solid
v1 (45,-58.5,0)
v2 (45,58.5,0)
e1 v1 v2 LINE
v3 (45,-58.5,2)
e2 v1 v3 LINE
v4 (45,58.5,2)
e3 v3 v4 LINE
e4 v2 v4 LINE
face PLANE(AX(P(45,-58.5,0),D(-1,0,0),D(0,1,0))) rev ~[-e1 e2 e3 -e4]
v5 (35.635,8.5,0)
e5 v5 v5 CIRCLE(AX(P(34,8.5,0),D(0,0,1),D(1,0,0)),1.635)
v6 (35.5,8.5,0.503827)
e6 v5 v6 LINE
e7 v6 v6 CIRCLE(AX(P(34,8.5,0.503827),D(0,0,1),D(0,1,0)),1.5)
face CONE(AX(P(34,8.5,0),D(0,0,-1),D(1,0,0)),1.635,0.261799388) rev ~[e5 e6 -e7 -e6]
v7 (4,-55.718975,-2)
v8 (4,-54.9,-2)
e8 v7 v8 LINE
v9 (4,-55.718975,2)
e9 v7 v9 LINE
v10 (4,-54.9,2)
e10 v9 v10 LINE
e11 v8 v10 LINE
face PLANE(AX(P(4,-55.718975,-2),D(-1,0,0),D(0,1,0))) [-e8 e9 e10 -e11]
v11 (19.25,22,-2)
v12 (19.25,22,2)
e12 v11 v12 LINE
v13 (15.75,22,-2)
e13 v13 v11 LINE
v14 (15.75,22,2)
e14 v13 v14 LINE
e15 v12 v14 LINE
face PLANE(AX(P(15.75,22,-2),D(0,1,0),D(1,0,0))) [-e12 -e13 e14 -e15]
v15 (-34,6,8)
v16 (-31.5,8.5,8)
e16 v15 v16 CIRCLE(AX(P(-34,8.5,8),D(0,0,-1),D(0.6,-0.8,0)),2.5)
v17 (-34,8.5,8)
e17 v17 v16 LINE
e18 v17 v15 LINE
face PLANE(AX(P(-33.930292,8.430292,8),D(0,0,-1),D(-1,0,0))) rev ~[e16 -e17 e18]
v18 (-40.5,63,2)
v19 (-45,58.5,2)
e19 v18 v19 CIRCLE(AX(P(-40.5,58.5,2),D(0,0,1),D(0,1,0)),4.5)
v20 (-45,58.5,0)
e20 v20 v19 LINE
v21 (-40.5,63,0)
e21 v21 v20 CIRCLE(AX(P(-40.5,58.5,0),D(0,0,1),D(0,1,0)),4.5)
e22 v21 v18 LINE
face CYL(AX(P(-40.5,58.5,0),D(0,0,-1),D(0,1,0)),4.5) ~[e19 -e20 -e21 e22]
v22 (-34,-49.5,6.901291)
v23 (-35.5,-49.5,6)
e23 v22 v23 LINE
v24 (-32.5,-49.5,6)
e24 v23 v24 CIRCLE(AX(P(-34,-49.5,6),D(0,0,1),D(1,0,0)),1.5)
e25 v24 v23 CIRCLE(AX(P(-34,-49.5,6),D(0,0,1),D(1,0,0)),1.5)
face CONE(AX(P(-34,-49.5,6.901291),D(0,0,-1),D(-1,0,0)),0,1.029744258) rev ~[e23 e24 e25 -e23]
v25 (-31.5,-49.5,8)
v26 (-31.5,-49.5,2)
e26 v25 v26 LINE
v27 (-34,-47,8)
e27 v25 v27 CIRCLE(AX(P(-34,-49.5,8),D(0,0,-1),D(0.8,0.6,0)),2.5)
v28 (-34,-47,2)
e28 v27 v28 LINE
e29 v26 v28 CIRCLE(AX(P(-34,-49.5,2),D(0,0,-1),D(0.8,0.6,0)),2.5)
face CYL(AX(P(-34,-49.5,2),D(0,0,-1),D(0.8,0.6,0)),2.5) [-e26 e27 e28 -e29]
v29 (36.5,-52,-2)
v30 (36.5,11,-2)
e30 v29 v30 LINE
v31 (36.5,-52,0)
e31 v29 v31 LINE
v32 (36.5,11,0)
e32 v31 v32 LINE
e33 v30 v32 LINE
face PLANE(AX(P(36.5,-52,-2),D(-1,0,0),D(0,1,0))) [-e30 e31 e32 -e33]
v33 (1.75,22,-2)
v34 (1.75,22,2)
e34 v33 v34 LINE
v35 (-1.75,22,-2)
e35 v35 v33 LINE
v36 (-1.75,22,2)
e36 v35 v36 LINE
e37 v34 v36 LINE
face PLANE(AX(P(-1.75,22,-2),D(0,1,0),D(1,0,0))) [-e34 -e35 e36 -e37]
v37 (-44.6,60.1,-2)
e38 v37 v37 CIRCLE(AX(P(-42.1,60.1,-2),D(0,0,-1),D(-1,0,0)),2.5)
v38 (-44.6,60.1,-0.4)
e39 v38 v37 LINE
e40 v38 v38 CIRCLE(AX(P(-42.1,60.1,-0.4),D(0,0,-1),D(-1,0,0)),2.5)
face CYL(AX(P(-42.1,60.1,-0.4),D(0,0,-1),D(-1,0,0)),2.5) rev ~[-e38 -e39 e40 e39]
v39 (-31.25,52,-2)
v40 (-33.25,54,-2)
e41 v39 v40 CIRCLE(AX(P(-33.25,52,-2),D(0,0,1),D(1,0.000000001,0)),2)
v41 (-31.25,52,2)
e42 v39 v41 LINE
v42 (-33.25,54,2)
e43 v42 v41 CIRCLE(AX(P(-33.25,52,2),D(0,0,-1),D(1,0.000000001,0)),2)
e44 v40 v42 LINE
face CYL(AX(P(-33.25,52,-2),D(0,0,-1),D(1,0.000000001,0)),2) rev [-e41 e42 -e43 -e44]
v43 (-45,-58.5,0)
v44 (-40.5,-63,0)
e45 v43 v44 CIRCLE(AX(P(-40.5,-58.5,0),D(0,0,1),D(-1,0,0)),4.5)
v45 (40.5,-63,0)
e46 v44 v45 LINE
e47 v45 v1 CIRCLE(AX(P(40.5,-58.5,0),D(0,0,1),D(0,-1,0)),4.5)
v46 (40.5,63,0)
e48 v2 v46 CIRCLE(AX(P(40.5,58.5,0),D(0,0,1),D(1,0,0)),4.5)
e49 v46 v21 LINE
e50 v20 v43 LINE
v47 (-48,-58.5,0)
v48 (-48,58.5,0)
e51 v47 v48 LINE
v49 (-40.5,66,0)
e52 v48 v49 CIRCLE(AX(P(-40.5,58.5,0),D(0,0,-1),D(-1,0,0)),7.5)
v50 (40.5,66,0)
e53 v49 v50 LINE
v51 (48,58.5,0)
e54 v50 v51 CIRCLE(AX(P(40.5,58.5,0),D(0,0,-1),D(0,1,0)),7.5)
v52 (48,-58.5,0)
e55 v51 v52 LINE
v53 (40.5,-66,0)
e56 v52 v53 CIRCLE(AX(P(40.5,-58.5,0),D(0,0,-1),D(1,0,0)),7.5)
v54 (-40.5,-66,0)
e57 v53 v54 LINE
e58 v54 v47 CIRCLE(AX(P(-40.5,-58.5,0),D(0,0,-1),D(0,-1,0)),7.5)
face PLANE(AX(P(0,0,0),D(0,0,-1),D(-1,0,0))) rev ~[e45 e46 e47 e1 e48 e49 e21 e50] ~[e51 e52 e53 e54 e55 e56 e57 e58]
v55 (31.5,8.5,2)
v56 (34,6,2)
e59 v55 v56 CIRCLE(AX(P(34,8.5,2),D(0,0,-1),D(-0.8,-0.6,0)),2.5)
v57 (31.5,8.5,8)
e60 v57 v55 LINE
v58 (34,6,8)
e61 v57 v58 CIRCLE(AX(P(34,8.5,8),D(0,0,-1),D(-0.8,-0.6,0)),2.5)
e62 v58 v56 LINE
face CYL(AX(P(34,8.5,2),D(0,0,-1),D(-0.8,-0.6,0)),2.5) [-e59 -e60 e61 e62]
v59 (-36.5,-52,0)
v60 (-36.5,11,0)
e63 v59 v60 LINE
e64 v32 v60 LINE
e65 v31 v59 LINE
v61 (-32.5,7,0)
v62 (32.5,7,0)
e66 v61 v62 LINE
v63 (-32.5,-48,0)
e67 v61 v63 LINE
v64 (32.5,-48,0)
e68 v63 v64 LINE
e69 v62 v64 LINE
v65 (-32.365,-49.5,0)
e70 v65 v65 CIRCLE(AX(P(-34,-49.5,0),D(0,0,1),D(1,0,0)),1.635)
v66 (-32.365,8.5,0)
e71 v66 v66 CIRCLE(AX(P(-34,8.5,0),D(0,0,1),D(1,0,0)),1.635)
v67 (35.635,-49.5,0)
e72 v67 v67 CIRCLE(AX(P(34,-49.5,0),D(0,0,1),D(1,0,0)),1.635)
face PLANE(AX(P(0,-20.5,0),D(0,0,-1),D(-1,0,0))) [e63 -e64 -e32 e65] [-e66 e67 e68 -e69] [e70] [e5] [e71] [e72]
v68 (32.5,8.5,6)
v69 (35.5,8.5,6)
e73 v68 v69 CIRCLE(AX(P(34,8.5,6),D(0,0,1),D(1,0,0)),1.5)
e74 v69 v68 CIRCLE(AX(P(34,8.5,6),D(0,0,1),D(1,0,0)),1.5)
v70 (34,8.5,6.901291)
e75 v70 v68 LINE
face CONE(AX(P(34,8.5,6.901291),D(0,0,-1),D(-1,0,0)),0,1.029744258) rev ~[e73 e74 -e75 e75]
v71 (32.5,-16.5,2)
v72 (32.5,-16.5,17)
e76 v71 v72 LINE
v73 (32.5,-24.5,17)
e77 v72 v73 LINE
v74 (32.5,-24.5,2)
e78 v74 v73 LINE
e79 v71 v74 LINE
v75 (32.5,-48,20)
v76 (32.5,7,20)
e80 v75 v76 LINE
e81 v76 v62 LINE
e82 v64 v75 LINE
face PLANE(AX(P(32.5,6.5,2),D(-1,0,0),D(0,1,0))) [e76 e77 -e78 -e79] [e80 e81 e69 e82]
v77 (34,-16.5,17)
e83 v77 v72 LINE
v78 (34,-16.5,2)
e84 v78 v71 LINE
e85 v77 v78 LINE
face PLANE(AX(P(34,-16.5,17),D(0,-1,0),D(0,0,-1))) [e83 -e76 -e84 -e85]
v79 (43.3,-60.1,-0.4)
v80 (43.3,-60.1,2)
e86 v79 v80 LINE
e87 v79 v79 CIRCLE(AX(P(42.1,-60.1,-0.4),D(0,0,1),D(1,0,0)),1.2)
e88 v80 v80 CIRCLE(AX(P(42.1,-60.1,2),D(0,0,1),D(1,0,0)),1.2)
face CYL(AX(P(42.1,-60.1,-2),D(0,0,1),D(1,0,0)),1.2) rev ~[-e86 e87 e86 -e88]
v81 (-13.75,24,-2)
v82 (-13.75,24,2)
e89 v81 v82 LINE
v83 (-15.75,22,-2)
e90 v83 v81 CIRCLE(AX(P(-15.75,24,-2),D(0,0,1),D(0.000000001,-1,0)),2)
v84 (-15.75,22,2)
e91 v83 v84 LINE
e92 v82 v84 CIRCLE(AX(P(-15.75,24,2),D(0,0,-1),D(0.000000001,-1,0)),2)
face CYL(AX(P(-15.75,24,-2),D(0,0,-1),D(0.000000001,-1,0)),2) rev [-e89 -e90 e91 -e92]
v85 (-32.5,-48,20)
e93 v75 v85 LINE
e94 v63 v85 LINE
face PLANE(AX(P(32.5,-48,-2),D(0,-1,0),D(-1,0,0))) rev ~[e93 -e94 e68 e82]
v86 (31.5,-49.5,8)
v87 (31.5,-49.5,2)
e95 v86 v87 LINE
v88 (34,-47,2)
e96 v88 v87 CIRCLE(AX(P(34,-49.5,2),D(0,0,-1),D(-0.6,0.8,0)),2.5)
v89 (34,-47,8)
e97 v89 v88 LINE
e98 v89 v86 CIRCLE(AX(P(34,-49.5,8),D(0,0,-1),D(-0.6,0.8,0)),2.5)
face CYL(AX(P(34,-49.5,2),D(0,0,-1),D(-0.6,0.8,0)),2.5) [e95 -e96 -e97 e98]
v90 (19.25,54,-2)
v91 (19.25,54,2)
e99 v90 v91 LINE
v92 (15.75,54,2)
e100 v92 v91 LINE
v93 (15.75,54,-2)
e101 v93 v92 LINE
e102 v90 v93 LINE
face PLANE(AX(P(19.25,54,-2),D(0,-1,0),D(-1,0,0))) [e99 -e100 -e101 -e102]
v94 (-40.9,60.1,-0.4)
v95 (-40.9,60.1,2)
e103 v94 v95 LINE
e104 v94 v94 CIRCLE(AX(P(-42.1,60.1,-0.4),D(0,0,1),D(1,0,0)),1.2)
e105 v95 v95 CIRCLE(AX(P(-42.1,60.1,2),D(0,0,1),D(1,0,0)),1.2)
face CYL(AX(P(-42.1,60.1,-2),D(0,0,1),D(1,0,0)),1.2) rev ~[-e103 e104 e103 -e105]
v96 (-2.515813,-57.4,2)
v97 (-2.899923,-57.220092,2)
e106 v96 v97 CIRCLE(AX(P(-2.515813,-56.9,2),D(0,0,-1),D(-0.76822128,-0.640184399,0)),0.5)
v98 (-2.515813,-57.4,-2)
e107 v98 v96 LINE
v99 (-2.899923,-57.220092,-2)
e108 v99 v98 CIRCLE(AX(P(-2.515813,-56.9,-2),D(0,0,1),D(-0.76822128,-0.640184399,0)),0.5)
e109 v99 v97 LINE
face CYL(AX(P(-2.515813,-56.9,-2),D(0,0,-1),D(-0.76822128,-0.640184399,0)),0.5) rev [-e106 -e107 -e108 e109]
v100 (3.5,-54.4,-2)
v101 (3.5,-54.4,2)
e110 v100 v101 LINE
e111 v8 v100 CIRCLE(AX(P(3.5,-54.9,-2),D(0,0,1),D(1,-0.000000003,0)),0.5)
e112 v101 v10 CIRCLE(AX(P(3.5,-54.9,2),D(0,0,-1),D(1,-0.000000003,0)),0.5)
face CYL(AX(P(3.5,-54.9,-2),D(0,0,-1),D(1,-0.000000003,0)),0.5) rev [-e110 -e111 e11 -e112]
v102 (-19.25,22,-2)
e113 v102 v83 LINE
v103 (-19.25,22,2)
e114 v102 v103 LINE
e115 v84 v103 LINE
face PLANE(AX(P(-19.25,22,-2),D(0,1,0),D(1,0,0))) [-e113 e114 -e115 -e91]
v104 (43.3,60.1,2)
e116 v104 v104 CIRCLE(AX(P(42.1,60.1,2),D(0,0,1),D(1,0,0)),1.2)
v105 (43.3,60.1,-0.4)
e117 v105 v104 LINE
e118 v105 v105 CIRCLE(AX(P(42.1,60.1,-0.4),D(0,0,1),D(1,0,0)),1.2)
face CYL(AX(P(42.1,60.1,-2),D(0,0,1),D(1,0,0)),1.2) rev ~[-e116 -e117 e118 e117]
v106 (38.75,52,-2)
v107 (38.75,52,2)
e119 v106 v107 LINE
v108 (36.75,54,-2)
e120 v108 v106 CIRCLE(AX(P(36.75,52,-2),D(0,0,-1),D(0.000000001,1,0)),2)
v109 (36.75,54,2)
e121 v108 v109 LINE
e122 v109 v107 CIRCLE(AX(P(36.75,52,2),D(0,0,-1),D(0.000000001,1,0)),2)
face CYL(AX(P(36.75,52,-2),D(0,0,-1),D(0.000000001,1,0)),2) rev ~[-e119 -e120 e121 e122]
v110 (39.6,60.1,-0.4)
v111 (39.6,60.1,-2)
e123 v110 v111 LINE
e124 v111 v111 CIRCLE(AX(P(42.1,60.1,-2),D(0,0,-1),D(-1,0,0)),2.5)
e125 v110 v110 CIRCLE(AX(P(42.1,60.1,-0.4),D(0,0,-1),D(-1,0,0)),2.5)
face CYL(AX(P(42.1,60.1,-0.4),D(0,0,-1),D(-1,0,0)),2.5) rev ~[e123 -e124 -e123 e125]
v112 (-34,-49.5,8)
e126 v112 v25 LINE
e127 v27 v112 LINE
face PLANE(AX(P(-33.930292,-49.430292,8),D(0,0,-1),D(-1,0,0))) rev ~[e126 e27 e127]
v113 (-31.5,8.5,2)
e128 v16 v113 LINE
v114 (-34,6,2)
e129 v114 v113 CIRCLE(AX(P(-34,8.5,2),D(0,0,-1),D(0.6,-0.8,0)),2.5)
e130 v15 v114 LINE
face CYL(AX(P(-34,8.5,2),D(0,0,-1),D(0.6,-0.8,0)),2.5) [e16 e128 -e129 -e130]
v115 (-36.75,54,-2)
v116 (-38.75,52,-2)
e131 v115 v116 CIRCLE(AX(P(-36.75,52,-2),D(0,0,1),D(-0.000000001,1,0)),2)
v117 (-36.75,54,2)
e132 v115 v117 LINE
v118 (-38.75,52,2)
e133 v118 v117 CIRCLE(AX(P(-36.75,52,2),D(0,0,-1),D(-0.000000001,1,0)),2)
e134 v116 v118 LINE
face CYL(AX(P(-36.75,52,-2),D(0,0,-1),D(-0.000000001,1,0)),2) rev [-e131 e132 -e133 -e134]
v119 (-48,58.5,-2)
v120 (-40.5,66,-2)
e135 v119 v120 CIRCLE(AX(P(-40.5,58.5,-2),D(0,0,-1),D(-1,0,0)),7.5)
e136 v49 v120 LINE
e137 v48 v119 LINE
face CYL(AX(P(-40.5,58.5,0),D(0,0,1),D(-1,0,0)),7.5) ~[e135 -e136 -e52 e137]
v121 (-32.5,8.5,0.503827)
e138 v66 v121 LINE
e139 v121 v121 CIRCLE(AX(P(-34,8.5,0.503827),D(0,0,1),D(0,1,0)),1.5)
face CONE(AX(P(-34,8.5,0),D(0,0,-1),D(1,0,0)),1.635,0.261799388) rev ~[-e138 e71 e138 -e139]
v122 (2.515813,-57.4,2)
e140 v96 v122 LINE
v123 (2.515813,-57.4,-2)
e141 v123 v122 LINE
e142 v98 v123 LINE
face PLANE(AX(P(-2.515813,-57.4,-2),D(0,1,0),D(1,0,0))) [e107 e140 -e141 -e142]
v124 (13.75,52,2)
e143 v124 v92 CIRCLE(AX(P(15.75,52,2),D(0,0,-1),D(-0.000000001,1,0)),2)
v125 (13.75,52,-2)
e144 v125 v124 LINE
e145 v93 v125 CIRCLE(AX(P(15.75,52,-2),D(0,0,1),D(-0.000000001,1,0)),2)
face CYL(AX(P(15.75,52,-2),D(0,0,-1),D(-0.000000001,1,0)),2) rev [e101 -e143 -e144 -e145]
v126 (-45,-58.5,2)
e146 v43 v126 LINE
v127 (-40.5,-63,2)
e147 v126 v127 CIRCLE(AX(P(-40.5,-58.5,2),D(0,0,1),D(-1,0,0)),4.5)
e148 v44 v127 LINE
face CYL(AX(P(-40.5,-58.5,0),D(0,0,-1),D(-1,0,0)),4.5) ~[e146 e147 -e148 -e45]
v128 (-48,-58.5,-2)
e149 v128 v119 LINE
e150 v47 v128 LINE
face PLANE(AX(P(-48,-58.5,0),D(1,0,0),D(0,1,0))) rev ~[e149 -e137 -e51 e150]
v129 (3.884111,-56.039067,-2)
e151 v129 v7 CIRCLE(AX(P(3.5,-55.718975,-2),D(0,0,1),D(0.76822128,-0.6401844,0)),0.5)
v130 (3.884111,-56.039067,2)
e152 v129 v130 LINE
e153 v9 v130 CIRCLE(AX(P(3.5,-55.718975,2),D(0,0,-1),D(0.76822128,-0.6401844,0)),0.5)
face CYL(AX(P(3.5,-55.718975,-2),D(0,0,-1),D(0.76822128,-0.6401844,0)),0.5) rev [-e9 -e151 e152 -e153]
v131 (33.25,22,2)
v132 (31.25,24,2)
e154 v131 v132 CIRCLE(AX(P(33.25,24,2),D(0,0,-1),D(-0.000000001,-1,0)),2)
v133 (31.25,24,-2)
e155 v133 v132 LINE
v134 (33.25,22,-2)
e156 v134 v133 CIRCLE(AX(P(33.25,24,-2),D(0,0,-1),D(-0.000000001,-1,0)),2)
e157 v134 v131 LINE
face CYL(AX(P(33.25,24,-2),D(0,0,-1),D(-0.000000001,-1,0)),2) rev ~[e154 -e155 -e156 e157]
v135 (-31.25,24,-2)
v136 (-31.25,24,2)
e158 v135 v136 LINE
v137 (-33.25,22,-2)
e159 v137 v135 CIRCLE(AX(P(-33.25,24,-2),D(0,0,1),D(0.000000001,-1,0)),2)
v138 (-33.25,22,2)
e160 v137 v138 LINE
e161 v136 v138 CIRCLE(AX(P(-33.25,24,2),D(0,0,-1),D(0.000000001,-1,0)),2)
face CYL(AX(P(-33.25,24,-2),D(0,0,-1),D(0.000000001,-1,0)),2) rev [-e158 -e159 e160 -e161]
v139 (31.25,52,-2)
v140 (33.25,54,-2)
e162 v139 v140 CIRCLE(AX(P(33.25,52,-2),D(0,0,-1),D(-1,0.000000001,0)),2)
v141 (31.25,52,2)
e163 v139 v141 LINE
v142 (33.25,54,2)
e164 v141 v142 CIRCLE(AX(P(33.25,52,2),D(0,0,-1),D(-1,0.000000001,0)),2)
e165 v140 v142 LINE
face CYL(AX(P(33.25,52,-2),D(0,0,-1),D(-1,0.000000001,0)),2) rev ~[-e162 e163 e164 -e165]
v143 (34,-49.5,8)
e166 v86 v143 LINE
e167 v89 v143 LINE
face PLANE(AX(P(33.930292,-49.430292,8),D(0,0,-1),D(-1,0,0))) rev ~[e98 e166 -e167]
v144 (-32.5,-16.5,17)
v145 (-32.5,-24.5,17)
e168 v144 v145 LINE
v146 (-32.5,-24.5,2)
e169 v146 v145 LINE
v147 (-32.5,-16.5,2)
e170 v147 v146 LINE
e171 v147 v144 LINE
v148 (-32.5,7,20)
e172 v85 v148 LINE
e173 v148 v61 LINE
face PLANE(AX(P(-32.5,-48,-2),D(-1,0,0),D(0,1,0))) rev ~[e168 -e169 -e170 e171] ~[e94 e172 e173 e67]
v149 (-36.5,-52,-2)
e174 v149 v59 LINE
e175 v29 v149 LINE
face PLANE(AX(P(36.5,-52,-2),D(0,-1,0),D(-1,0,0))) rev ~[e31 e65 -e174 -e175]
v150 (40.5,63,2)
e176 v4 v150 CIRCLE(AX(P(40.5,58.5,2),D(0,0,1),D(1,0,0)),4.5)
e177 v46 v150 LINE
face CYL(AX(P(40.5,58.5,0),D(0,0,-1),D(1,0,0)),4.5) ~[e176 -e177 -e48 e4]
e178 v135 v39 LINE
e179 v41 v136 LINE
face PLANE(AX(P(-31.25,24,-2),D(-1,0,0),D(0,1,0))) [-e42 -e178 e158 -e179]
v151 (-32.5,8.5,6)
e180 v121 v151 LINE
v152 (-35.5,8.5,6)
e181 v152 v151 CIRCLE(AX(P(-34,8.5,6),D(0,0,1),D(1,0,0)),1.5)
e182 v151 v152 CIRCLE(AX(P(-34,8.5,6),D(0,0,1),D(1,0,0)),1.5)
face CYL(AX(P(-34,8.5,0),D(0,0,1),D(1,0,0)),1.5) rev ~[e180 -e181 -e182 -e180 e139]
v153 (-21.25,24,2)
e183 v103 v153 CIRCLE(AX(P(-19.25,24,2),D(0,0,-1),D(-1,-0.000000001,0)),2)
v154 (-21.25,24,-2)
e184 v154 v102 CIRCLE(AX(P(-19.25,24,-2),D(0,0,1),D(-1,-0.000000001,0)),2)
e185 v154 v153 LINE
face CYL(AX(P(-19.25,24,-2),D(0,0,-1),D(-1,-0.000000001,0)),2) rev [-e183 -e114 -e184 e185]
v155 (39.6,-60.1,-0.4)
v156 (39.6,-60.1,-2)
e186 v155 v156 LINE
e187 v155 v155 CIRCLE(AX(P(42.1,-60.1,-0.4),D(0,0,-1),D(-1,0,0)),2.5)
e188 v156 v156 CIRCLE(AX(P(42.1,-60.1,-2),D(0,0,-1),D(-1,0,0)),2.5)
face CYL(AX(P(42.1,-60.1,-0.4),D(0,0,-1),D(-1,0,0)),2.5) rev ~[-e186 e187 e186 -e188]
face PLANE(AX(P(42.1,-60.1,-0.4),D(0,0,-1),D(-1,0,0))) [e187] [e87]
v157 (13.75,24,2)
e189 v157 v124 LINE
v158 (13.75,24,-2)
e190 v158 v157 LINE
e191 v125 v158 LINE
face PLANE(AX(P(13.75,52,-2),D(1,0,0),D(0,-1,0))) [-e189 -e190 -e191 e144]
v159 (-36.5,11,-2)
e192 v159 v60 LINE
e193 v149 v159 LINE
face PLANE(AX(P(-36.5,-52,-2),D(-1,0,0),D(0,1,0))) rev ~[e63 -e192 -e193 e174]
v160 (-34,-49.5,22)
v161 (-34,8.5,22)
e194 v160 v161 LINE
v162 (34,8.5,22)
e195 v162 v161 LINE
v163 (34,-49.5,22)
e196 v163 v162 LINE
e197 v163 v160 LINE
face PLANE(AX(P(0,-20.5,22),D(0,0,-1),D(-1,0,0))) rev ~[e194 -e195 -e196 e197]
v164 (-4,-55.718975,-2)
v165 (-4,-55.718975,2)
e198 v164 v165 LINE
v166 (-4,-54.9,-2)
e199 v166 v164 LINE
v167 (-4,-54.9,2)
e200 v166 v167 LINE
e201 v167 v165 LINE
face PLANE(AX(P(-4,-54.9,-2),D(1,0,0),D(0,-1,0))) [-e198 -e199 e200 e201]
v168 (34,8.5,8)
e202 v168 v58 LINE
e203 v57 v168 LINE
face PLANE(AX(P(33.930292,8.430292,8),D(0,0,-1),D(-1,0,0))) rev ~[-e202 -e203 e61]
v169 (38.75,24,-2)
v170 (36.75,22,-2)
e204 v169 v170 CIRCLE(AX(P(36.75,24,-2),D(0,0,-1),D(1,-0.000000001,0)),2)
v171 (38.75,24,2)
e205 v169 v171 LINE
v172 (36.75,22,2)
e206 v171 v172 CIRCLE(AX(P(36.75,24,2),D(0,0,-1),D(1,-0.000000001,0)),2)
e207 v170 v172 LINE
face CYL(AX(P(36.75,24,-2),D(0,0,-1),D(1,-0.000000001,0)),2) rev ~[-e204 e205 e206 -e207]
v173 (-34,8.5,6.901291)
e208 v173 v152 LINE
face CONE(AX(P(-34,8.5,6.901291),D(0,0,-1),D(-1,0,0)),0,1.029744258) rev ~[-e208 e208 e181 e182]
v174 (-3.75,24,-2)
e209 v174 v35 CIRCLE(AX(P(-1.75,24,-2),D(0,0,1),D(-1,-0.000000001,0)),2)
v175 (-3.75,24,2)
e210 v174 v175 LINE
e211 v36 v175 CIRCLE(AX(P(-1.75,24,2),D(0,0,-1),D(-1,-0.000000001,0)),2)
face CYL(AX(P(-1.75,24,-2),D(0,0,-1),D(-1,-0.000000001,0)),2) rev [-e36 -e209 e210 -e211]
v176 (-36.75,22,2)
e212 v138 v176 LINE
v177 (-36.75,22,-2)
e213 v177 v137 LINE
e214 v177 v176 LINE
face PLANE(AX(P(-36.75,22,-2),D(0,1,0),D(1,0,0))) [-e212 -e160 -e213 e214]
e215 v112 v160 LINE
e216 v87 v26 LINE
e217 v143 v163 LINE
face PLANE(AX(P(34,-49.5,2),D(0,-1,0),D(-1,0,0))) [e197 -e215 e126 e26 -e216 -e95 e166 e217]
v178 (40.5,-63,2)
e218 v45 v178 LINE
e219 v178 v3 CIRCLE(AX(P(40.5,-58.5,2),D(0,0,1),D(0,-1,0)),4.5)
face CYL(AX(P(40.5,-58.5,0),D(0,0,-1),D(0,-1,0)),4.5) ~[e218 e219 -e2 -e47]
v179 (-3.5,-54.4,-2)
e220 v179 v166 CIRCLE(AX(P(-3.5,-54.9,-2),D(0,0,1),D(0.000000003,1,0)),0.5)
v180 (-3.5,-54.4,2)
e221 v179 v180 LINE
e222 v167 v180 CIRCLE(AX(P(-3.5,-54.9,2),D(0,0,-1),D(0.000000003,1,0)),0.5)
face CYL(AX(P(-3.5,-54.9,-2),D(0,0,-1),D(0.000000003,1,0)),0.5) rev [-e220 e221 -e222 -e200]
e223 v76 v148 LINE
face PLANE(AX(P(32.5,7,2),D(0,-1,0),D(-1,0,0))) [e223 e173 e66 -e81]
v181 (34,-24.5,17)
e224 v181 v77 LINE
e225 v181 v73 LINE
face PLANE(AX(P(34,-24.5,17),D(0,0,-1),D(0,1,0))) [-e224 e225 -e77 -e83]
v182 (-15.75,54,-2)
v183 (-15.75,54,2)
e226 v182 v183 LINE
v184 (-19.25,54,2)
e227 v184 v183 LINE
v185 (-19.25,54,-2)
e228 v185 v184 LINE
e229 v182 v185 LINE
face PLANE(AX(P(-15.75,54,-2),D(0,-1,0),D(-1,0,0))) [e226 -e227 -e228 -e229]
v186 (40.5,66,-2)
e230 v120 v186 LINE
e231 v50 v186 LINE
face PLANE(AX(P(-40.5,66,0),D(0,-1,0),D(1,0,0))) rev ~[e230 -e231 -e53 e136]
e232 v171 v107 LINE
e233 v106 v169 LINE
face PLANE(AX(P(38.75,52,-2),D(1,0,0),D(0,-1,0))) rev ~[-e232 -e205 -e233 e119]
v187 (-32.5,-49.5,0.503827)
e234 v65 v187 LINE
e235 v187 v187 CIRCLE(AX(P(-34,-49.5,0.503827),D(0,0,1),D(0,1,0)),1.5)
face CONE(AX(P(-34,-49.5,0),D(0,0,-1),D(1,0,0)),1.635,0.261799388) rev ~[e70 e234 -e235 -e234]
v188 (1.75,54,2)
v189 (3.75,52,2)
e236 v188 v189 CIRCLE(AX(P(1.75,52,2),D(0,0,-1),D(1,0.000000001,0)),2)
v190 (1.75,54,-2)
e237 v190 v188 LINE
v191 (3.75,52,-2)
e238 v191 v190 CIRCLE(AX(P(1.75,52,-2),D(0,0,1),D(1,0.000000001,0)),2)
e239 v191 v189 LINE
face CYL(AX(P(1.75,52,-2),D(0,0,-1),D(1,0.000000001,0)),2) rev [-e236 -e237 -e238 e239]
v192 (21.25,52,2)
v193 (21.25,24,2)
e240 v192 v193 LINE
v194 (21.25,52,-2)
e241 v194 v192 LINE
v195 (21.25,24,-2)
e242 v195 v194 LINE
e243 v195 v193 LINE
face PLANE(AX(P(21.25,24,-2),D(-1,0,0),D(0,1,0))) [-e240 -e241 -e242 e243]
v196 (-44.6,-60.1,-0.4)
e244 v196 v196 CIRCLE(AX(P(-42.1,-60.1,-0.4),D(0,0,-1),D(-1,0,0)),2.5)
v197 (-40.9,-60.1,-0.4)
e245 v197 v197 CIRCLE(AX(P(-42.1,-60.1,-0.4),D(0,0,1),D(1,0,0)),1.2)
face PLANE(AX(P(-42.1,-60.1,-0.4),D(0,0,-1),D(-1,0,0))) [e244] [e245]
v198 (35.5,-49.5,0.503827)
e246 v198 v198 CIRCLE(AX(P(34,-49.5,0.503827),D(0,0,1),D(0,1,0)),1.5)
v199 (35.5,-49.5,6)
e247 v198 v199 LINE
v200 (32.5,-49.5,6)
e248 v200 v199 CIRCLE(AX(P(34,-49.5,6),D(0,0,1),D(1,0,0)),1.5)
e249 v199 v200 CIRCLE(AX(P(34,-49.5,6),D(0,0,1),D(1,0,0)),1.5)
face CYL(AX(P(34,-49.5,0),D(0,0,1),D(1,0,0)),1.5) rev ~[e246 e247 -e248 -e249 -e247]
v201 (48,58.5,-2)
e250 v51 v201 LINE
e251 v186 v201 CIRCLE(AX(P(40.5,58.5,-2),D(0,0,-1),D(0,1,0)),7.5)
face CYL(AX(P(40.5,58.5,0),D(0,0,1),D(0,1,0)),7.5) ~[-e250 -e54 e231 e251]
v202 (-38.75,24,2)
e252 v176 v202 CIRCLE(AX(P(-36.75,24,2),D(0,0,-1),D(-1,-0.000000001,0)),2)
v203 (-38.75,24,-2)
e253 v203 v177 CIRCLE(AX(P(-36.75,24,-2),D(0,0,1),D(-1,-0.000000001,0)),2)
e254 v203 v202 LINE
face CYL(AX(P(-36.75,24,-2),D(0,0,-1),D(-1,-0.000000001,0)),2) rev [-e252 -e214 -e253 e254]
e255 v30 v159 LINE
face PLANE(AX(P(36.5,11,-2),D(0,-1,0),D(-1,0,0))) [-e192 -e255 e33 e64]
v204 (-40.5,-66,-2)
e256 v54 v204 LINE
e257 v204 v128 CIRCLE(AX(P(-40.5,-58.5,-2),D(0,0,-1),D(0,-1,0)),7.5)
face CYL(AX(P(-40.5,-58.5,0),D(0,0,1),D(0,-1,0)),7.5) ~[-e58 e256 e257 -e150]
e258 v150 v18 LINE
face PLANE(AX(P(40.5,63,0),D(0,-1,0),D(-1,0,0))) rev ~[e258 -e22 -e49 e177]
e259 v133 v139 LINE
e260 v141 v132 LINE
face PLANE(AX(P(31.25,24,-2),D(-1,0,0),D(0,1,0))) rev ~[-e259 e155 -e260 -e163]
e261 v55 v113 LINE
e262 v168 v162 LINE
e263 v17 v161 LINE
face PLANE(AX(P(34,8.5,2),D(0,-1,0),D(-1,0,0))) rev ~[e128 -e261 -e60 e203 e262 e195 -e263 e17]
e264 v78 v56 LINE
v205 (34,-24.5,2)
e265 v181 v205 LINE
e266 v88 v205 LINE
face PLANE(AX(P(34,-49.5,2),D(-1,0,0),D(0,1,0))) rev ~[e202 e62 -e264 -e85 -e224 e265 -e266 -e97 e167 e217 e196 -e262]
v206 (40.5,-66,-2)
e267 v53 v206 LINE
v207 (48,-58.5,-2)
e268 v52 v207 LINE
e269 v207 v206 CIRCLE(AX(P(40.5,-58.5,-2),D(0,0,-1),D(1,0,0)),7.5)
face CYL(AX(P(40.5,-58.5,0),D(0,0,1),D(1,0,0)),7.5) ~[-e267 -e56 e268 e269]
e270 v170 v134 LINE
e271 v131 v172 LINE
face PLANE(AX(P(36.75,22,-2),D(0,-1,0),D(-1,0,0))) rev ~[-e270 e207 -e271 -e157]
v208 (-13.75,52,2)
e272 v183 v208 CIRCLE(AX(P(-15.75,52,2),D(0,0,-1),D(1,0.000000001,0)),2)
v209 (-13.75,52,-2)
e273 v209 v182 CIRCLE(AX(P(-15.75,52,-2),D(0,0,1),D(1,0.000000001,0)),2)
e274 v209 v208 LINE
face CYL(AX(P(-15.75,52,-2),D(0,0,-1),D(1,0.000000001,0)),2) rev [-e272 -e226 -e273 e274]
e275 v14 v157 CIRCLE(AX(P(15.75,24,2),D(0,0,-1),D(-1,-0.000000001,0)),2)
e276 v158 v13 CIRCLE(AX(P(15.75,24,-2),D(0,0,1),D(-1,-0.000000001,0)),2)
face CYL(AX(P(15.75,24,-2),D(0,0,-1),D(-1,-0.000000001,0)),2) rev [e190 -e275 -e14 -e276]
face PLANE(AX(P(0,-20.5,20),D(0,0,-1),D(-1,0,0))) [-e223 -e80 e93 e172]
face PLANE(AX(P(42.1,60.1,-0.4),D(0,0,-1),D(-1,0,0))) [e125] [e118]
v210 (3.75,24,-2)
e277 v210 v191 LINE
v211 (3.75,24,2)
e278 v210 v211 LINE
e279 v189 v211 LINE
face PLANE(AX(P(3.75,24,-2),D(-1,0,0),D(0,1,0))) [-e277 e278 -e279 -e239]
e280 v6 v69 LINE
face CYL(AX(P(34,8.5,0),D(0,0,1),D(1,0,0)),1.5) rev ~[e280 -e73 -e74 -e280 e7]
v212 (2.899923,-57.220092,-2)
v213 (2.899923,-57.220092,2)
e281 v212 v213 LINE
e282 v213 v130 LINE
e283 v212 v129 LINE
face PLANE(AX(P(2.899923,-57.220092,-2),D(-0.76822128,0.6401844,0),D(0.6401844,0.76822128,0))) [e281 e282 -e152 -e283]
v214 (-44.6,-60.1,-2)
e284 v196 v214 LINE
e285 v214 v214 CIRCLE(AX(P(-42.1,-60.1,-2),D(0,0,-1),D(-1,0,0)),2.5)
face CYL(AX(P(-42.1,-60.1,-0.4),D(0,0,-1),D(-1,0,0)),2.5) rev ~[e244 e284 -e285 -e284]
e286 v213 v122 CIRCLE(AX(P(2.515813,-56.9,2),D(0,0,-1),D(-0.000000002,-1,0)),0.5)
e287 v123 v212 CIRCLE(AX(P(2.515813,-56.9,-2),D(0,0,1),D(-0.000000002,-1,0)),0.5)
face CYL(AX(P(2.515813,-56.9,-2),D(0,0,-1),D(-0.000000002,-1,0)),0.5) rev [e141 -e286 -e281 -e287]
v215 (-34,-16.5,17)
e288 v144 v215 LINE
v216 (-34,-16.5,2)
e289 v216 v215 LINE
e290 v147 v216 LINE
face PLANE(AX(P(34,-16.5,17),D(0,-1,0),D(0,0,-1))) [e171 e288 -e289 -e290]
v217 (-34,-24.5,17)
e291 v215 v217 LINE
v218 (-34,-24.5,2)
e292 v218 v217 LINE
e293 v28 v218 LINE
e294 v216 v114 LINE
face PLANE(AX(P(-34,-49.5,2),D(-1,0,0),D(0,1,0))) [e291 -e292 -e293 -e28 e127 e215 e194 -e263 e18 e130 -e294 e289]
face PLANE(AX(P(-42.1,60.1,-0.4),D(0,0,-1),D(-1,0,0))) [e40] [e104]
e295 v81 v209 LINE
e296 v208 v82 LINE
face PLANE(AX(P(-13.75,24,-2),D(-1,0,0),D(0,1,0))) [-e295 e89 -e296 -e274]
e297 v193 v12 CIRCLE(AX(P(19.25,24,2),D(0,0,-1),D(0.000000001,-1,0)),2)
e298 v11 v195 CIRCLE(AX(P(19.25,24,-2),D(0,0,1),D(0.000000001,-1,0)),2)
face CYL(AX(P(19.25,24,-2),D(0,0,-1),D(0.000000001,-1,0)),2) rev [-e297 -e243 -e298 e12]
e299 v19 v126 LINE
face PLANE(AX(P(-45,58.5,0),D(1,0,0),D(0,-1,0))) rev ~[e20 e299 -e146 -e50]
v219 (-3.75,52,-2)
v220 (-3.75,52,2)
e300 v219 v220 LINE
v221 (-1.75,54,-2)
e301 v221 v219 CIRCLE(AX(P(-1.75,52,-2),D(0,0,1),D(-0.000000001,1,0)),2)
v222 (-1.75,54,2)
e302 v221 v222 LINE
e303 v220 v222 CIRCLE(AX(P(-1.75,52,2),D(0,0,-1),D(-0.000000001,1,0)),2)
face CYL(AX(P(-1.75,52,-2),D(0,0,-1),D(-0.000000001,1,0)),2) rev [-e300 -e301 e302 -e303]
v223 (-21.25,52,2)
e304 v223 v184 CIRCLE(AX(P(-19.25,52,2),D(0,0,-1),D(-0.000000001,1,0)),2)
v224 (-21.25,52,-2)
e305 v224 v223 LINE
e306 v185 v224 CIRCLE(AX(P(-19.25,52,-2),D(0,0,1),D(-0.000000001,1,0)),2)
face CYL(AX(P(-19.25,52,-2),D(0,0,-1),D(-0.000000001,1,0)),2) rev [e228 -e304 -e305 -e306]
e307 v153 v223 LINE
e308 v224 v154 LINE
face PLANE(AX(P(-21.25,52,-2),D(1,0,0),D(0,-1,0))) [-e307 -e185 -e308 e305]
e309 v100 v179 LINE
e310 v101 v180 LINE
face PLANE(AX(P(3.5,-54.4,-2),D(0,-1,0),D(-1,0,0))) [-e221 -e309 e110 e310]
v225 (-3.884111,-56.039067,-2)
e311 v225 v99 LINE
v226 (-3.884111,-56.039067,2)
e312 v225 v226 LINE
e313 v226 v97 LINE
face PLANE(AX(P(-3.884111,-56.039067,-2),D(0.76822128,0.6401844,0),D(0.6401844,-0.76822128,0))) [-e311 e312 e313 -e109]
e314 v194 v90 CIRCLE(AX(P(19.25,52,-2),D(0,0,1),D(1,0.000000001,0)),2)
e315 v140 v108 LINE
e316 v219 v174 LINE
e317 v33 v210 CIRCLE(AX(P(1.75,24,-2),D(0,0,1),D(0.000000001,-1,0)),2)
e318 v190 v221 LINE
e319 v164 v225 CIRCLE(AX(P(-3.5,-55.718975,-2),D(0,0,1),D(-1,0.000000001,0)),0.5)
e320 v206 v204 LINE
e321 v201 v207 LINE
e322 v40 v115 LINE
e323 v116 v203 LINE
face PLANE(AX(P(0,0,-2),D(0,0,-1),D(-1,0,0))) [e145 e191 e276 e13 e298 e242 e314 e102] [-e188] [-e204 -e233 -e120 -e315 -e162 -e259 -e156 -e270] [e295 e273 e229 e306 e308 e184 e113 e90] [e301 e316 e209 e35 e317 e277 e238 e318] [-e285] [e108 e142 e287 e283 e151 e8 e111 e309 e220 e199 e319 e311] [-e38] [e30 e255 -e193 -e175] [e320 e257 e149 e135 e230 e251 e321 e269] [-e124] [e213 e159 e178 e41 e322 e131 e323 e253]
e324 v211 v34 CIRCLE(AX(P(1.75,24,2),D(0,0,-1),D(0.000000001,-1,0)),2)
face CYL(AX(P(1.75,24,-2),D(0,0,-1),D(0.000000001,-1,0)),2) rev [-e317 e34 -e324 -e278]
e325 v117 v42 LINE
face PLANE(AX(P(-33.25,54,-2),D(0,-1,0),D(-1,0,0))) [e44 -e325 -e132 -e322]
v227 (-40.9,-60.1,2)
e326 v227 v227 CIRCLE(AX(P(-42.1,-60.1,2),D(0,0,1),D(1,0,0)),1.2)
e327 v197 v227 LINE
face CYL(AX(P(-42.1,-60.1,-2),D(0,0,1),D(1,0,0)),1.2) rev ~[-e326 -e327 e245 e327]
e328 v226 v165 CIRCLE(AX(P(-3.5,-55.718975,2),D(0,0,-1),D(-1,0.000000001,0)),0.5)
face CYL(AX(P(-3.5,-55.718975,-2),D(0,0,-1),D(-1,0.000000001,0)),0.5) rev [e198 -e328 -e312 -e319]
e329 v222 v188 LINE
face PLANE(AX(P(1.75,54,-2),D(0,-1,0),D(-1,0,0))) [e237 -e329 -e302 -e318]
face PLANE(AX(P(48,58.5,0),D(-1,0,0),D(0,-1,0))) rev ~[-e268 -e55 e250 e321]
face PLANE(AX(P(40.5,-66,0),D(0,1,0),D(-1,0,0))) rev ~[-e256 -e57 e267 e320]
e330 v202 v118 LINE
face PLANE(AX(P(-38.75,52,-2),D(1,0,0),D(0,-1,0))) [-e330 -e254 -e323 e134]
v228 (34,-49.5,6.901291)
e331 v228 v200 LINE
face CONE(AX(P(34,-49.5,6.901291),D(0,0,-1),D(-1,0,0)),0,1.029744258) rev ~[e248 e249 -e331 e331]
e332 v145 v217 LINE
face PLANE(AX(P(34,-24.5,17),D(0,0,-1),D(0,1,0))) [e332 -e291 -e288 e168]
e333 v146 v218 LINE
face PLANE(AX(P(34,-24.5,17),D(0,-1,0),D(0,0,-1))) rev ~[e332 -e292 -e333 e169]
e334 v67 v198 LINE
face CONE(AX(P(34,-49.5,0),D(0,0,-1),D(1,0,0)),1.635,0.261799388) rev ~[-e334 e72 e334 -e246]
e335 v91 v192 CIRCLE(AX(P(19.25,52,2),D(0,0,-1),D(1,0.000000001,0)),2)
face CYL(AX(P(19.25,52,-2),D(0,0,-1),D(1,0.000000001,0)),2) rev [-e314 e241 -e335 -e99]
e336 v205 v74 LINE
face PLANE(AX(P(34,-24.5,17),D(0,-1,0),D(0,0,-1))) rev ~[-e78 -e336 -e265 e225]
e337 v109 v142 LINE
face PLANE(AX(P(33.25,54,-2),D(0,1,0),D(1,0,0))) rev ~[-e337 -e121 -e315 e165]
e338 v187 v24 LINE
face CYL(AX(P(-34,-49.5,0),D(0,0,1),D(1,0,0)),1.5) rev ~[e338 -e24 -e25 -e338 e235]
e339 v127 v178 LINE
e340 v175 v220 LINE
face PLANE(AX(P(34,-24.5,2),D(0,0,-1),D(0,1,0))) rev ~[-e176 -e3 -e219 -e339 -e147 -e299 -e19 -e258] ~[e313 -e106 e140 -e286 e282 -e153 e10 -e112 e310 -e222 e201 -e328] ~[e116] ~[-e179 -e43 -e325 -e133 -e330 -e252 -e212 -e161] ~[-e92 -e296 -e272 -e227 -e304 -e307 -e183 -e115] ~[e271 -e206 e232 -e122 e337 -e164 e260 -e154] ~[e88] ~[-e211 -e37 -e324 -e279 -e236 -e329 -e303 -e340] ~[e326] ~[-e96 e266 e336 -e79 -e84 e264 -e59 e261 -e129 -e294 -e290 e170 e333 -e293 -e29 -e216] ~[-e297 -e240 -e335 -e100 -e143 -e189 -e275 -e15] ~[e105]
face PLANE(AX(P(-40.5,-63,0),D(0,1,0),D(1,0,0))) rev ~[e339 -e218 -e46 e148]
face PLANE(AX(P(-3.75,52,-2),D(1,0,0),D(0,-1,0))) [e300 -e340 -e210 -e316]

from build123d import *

# Parameters (mm, degrees)
BOSS_EXTRUDE1_DEPTH                              = 2
BOSS_EXTRUDE2_DEPTH                              = 2
CUT_EXTRUDE1_DEPTH                               = 82.706792863
CBORE_FOR_M2_PAN_HEAD_MACHINE_SCREW1_D           = 2.4
CBORE_FOR_M2_PAN_HEAD_MACHINE_SCREW1_CBORE_D     = 5
CBORE_FOR_M2_PAN_HEAD_MACHINE_SCREW1_CBORE_DEPTH = 1.6
BOSS_EXTRUDE3_START                              = -4
SKETCH8_3_W                                      = 68
SKETCH8_3_H                                      = 58
BOSS_EXTRUDE3_DEPTH                              = 20
SKETCH8_W                                        = 65
SKETCH8_H                                        = 55
CUT_EXTRUDE2_DEPTH                               = 22
SKETCH9_W                                        = 73
SKETCH9_H                                        = 63
CUT_EXTRUDE3_DEPTH                               = 2
BOSS_EXTRUDE4_DEPTH                              = 6
CSK_FOR_M2_FLAT_HEAD_MACHINE_SCREW2_D            = 3
CSK_FOR_M2_FLAT_HEAD_MACHINE_SCREW2_DEPTH        = 6
CSK_FOR_M2_FLAT_HEAD_MACHINE_SCREW2_CSINK_D      = 3.27
CSK_FOR_M2_FLAT_HEAD_MACHINE_SCREW2_CSINK_ANGLE  = 30
CSK_FOR_M2_FLAT_HEAD_MACHINE_SCREW2_TIP          = 0.901290929
SKETCH15_W                                       = 15
SKETCH15_H                                       = 8
CUT_EXTRUDE4_DEPTH                               = 108.53604047
CUT_EXTRUDE5_DEPTH                               = 86.064681273


with BuildPart() as part:
    # Sketch2 → Boss-Extrude1 (new body)
    with BuildSketch(Plane.XY):
        with BuildLine():
            Line((45, -58.5), (45, 58.5))
            ThreePointArc((45, 58.5), (43.681980515, 61.681980515), (40.5, 63))
            Line((40.5, 63), (-40.5, 63))
            ThreePointArc((-40.5, 63), (-43.681980515, 61.681980515), (-45, 58.5))
            Line((-45, 58.5), (-45, -58.5))
            ThreePointArc((-45, -58.5), (-43.681980515, -61.681980515), (-40.5, -63))
            Line((-40.5, -63), (40.5, -63))
            ThreePointArc((40.5, -63), (43.681980515, -61.681980515), (45, -58.5))
        make_face()
    extrude(amount=BOSS_EXTRUDE1_DEPTH)

    # Sketch3 → Boss-Extrude2 (add)
    with BuildSketch(Plane(origin=(0, 0, 0), x_dir=(-1, 0, 0), z_dir=(0, 0, -1))):
        with BuildLine():
            Line((-40.5, -66), (40.5, -66))
            ThreePointArc((40.5, -66), (45.803300859, -63.803300859), (48, -58.5))
            Line((48, -58.5), (48, 58.5))
            ThreePointArc((48, 58.5), (45.803300859, 63.803300859), (40.5, 66))
            Line((40.5, 66), (-40.5, 66))
            ThreePointArc((-40.5, 66), (-45.803300859, 63.803300859), (-48, 58.5))
            Line((-48, 58.5), (-48, -58.5))
            ThreePointArc((-48, -58.5), (-45.803300859, -63.803300859), (-40.5, -66))
        make_face()
    extrude(amount=BOSS_EXTRUDE2_DEPTH)

    # Sketch5 → Cut-Extrude1 (cut, through all)
    with BuildSketch(Plane(origin=(0, 0, -2), x_dir=(-1, 0, 0), z_dir=(0, 0, -1))):
        with BuildLine():
            Line((-36.75, 22), (-33.25, 22))
            ThreePointArc((-33.25, 22), (-31.835786438, 22.585786438), (-31.25, 24))
            Line((-31.25, 24), (-31.25, 52))
            ThreePointArc((-31.25, 52), (-31.835786438, 53.414213562), (-33.25, 54))
            Line((-33.25, 54), (-36.75, 54))
            ThreePointArc((-36.75, 54), (-38.164213562, 53.414213562), (-38.75, 52))
            Line((-38.75, 52), (-38.75, 24))
            ThreePointArc((-38.75, 24), (-38.164213562, 22.585786438), (-36.75, 22))
        make_face()
        with BuildLine():
            Line((-21.25, 24), (-21.25, 52))
            ThreePointArc((-21.25, 52), (-20.664213562, 53.414213562), (-19.25, 54))
            Line((-19.25, 54), (-15.75, 54))
            ThreePointArc((-15.75, 54), (-14.335786438, 53.414213562), (-13.75, 52))
            Line((-13.75, 52), (-13.75, 24))
            ThreePointArc((-13.75, 24), (-14.335786438, 22.585786438), (-15.75, 22))
            Line((-15.75, 22), (-19.25, 22))
            ThreePointArc((-19.25, 22), (-20.664213562, 22.585786438), (-21.25, 24))
        make_face()
        with BuildLine():
            Line((-3.75, 24), (-3.75, 52))
            ThreePointArc((-3.75, 52), (-3.164213562, 53.414213562), (-1.75, 54))
            Line((-1.75, 54), (1.75, 54))
            ThreePointArc((1.75, 54), (3.164213562, 53.414213562), (3.75, 52))
            Line((3.75, 52), (3.75, 24))
            ThreePointArc((3.75, 24), (3.164213562, 22.585786438), (1.75, 22))
            Line((1.75, 22), (-1.75, 22))
            ThreePointArc((-1.75, 22), (-3.164213562, 22.585786438), (-3.75, 24))
        make_face()
        with BuildLine():
            Line((13.75, 24), (13.75, 52))
            ThreePointArc((13.75, 52), (14.335786438, 53.414213562), (15.75, 54))
            Line((15.75, 54), (19.25, 54))
            ThreePointArc((19.25, 54), (20.664213562, 53.414213562), (21.25, 52))
            Line((21.25, 52), (21.25, 24))
            ThreePointArc((21.25, 24), (20.664213562, 22.585786438), (19.25, 22))
            Line((19.25, 22), (15.75, 22))
            ThreePointArc((15.75, 22), (14.335786438, 22.585786438), (13.75, 24))
        make_face()
        with BuildLine():
            Line((31.25, 24), (31.25, 52))
            ThreePointArc((31.25, 52), (31.835786438, 53.414213562), (33.25, 54))
            Line((33.25, 54), (36.75, 54))
            ThreePointArc((36.75, 54), (38.164213562, 53.414213562), (38.75, 52))
            Line((38.75, 52), (38.75, 24))
            ThreePointArc((38.75, 24), (38.164213562, 22.585786438), (36.75, 22))
            Line((36.75, 22), (33.25, 22))
            ThreePointArc((33.25, 22), (31.835786438, 22.585786438), (31.25, 24))
        make_face()
    extrude(amount=-CUT_EXTRUDE1_DEPTH, mode=Mode.SUBTRACT)

    # CBORE for M2 Pan Head Machine Screw1 (through all)
    with Locations(Plane(origin=(0, 0, -2), x_dir=(-1, 0, 0), z_dir=(0, 0, -1))):
        with Locations((-42.1, 60.1), (42.1, 60.1), (-42.1, -60.1), (42.1, -60.1)):
            CounterBoreHole(CBORE_FOR_M2_PAN_HEAD_MACHINE_SCREW1_D / 2, CBORE_FOR_M2_PAN_HEAD_MACHINE_SCREW1_CBORE_D / 2, CBORE_FOR_M2_PAN_HEAD_MACHINE_SCREW1_CBORE_DEPTH)

    # Sketch8<3> → Boss-Extrude3 (add)
    with BuildSketch(Plane(origin=(0, 0, -2), x_dir=(-1, 0, 0), z_dir=(0, 0, -1)).offset(BOSS_EXTRUDE3_START)):
        with Locations((0, -20.5)):
            Rectangle(SKETCH8_3_W, SKETCH8_3_H)
    extrude(amount=-BOSS_EXTRUDE3_DEPTH)

    # Sketch8 → Cut-Extrude2 (cut)
    with BuildSketch(Plane(origin=(0, 0, -2), x_dir=(-1, 0, 0), z_dir=(0, 0, -1))):
        with Locations((0, -20.5)):
            Rectangle(SKETCH8_W, SKETCH8_H)
    extrude(amount=-CUT_EXTRUDE2_DEPTH, mode=Mode.SUBTRACT)

    # Sketch9 → Cut-Extrude3 (cut)
    with BuildSketch(Plane(origin=(0, 0, -2), x_dir=(-1, 0, 0), z_dir=(0, 0, -1))):
        with Locations((0, -20.5)):
            Rectangle(SKETCH9_W, SKETCH9_H)
    extrude(amount=-CUT_EXTRUDE3_DEPTH, mode=Mode.SUBTRACT)

    # Sketch10 → Boss-Extrude4 (add)
    with BuildSketch(Plane.XY.offset(2)):
        with BuildLine():
            Line((32.5, 7), (32, 7))
            ThreePointArc((32, 7), (35.767766953, 10.267766953), (32.5, 6.5))
            Line((32.5, 6.5), (32.5, 7))
        make_face()
        with BuildLine():
            Line((-32.5, 7), (-32.5, 6.5))
            ThreePointArc((-32.5, 6.5), (-35.767766953, 10.267766953), (-32, 7))
            Line((-32, 7), (-32.5, 7))
        make_face()
        with BuildLine():
            Line((-32.5, -48), (-32, -48))
            ThreePointArc((-32, -48), (-35.767766953, -51.267766953), (-32.5, -47.5))
            Line((-32.5, -47.5), (-32.5, -48))
        make_face()
        with BuildLine():
            Line((32.5, -48), (32.5, -47.5))
            ThreePointArc((32.5, -47.5), (35.767766953, -51.267766953), (32, -48))
            Line((32, -48), (32.5, -48))
        make_face()
    extrude(amount=BOSS_EXTRUDE4_DEPTH)

    # CSK for M2 Flat Head Machine Screw2
    with Locations(Plane(origin=(0, 0, 0), x_dir=(-1, 0, 0), z_dir=(0, 0, -1))):
        with Locations((-34, 8.5), (34, 8.5), (-34, -49.5), (34, -49.5)):
            CounterSinkHole(CSK_FOR_M2_FLAT_HEAD_MACHINE_SCREW2_D / 2, CSK_FOR_M2_FLAT_HEAD_MACHINE_SCREW2_CSINK_D / 2, depth=CSK_FOR_M2_FLAT_HEAD_MACHINE_SCREW2_DEPTH, counter_sink_angle=CSK_FOR_M2_FLAT_HEAD_MACHINE_SCREW2_CSINK_ANGLE)
            with Locations((0, 0, -(CSK_FOR_M2_FLAT_HEAD_MACHINE_SCREW2_DEPTH + CSK_FOR_M2_FLAT_HEAD_MACHINE_SCREW2_TIP / 2))):  # 118° drill point
                Cone(0, CSK_FOR_M2_FLAT_HEAD_MACHINE_SCREW2_D / 2, CSK_FOR_M2_FLAT_HEAD_MACHINE_SCREW2_TIP, mode=Mode.SUBTRACT)

    # Sketch15 → Cut-Extrude4 (cut, through all)
    with BuildSketch(Plane(origin=(34, 0, 0), x_dir=(0, 0, -1), z_dir=(1, 0, 0))):
        with Locations((-9.5, -20.5)):
            Rectangle(SKETCH15_W, SKETCH15_H)
    extrude(amount=-CUT_EXTRUDE4_DEPTH, mode=Mode.SUBTRACT)

    # Sketch16 → Cut-Extrude5 (cut, through all)
    with BuildSketch(Plane(origin=(0, 0, -2), x_dir=(-1, 0, 0), z_dir=(0, 0, -1))):
        with BuildLine():
            Line((2.515812527, -57.4), (-2.515812527, -57.4))
            ThreePointArc((-2.515812527, -57.4), (-2.727890225, -57.352794711), (-2.899923167, -57.2200922))
            Line((-2.899923167, -57.2200922), (-3.88411064, -56.039067232))
            ThreePointArc((-3.88411064, -56.039067232), (-3.970135789, -55.889187664), (-4, -55.718975032))
            Line((-4, -55.718975032), (-4, -54.9))
            ThreePointArc((-4, -54.9), (-3.853553391, -54.546446609), (-3.5, -54.4))
            Line((-3.5, -54.4), (3.5, -54.4))
            ThreePointArc((3.5, -54.4), (3.853553391, -54.546446609), (4, -54.9))
            Line((4, -54.9), (4, -55.718975032))
            ThreePointArc((4, -55.718975032), (3.970135789, -55.889187664), (3.88411064, -56.039067232))
            Line((3.88411064, -56.039067232), (2.899923167, -57.2200922))
            ThreePointArc((2.899923167, -57.2200922), (2.727890225, -57.352794711), (2.515812527, -57.4))
        make_face()
    extrude(amount=-CUT_EXTRUDE5_DEPTH, mode=Mode.SUBTRACT)


solid = part.part
